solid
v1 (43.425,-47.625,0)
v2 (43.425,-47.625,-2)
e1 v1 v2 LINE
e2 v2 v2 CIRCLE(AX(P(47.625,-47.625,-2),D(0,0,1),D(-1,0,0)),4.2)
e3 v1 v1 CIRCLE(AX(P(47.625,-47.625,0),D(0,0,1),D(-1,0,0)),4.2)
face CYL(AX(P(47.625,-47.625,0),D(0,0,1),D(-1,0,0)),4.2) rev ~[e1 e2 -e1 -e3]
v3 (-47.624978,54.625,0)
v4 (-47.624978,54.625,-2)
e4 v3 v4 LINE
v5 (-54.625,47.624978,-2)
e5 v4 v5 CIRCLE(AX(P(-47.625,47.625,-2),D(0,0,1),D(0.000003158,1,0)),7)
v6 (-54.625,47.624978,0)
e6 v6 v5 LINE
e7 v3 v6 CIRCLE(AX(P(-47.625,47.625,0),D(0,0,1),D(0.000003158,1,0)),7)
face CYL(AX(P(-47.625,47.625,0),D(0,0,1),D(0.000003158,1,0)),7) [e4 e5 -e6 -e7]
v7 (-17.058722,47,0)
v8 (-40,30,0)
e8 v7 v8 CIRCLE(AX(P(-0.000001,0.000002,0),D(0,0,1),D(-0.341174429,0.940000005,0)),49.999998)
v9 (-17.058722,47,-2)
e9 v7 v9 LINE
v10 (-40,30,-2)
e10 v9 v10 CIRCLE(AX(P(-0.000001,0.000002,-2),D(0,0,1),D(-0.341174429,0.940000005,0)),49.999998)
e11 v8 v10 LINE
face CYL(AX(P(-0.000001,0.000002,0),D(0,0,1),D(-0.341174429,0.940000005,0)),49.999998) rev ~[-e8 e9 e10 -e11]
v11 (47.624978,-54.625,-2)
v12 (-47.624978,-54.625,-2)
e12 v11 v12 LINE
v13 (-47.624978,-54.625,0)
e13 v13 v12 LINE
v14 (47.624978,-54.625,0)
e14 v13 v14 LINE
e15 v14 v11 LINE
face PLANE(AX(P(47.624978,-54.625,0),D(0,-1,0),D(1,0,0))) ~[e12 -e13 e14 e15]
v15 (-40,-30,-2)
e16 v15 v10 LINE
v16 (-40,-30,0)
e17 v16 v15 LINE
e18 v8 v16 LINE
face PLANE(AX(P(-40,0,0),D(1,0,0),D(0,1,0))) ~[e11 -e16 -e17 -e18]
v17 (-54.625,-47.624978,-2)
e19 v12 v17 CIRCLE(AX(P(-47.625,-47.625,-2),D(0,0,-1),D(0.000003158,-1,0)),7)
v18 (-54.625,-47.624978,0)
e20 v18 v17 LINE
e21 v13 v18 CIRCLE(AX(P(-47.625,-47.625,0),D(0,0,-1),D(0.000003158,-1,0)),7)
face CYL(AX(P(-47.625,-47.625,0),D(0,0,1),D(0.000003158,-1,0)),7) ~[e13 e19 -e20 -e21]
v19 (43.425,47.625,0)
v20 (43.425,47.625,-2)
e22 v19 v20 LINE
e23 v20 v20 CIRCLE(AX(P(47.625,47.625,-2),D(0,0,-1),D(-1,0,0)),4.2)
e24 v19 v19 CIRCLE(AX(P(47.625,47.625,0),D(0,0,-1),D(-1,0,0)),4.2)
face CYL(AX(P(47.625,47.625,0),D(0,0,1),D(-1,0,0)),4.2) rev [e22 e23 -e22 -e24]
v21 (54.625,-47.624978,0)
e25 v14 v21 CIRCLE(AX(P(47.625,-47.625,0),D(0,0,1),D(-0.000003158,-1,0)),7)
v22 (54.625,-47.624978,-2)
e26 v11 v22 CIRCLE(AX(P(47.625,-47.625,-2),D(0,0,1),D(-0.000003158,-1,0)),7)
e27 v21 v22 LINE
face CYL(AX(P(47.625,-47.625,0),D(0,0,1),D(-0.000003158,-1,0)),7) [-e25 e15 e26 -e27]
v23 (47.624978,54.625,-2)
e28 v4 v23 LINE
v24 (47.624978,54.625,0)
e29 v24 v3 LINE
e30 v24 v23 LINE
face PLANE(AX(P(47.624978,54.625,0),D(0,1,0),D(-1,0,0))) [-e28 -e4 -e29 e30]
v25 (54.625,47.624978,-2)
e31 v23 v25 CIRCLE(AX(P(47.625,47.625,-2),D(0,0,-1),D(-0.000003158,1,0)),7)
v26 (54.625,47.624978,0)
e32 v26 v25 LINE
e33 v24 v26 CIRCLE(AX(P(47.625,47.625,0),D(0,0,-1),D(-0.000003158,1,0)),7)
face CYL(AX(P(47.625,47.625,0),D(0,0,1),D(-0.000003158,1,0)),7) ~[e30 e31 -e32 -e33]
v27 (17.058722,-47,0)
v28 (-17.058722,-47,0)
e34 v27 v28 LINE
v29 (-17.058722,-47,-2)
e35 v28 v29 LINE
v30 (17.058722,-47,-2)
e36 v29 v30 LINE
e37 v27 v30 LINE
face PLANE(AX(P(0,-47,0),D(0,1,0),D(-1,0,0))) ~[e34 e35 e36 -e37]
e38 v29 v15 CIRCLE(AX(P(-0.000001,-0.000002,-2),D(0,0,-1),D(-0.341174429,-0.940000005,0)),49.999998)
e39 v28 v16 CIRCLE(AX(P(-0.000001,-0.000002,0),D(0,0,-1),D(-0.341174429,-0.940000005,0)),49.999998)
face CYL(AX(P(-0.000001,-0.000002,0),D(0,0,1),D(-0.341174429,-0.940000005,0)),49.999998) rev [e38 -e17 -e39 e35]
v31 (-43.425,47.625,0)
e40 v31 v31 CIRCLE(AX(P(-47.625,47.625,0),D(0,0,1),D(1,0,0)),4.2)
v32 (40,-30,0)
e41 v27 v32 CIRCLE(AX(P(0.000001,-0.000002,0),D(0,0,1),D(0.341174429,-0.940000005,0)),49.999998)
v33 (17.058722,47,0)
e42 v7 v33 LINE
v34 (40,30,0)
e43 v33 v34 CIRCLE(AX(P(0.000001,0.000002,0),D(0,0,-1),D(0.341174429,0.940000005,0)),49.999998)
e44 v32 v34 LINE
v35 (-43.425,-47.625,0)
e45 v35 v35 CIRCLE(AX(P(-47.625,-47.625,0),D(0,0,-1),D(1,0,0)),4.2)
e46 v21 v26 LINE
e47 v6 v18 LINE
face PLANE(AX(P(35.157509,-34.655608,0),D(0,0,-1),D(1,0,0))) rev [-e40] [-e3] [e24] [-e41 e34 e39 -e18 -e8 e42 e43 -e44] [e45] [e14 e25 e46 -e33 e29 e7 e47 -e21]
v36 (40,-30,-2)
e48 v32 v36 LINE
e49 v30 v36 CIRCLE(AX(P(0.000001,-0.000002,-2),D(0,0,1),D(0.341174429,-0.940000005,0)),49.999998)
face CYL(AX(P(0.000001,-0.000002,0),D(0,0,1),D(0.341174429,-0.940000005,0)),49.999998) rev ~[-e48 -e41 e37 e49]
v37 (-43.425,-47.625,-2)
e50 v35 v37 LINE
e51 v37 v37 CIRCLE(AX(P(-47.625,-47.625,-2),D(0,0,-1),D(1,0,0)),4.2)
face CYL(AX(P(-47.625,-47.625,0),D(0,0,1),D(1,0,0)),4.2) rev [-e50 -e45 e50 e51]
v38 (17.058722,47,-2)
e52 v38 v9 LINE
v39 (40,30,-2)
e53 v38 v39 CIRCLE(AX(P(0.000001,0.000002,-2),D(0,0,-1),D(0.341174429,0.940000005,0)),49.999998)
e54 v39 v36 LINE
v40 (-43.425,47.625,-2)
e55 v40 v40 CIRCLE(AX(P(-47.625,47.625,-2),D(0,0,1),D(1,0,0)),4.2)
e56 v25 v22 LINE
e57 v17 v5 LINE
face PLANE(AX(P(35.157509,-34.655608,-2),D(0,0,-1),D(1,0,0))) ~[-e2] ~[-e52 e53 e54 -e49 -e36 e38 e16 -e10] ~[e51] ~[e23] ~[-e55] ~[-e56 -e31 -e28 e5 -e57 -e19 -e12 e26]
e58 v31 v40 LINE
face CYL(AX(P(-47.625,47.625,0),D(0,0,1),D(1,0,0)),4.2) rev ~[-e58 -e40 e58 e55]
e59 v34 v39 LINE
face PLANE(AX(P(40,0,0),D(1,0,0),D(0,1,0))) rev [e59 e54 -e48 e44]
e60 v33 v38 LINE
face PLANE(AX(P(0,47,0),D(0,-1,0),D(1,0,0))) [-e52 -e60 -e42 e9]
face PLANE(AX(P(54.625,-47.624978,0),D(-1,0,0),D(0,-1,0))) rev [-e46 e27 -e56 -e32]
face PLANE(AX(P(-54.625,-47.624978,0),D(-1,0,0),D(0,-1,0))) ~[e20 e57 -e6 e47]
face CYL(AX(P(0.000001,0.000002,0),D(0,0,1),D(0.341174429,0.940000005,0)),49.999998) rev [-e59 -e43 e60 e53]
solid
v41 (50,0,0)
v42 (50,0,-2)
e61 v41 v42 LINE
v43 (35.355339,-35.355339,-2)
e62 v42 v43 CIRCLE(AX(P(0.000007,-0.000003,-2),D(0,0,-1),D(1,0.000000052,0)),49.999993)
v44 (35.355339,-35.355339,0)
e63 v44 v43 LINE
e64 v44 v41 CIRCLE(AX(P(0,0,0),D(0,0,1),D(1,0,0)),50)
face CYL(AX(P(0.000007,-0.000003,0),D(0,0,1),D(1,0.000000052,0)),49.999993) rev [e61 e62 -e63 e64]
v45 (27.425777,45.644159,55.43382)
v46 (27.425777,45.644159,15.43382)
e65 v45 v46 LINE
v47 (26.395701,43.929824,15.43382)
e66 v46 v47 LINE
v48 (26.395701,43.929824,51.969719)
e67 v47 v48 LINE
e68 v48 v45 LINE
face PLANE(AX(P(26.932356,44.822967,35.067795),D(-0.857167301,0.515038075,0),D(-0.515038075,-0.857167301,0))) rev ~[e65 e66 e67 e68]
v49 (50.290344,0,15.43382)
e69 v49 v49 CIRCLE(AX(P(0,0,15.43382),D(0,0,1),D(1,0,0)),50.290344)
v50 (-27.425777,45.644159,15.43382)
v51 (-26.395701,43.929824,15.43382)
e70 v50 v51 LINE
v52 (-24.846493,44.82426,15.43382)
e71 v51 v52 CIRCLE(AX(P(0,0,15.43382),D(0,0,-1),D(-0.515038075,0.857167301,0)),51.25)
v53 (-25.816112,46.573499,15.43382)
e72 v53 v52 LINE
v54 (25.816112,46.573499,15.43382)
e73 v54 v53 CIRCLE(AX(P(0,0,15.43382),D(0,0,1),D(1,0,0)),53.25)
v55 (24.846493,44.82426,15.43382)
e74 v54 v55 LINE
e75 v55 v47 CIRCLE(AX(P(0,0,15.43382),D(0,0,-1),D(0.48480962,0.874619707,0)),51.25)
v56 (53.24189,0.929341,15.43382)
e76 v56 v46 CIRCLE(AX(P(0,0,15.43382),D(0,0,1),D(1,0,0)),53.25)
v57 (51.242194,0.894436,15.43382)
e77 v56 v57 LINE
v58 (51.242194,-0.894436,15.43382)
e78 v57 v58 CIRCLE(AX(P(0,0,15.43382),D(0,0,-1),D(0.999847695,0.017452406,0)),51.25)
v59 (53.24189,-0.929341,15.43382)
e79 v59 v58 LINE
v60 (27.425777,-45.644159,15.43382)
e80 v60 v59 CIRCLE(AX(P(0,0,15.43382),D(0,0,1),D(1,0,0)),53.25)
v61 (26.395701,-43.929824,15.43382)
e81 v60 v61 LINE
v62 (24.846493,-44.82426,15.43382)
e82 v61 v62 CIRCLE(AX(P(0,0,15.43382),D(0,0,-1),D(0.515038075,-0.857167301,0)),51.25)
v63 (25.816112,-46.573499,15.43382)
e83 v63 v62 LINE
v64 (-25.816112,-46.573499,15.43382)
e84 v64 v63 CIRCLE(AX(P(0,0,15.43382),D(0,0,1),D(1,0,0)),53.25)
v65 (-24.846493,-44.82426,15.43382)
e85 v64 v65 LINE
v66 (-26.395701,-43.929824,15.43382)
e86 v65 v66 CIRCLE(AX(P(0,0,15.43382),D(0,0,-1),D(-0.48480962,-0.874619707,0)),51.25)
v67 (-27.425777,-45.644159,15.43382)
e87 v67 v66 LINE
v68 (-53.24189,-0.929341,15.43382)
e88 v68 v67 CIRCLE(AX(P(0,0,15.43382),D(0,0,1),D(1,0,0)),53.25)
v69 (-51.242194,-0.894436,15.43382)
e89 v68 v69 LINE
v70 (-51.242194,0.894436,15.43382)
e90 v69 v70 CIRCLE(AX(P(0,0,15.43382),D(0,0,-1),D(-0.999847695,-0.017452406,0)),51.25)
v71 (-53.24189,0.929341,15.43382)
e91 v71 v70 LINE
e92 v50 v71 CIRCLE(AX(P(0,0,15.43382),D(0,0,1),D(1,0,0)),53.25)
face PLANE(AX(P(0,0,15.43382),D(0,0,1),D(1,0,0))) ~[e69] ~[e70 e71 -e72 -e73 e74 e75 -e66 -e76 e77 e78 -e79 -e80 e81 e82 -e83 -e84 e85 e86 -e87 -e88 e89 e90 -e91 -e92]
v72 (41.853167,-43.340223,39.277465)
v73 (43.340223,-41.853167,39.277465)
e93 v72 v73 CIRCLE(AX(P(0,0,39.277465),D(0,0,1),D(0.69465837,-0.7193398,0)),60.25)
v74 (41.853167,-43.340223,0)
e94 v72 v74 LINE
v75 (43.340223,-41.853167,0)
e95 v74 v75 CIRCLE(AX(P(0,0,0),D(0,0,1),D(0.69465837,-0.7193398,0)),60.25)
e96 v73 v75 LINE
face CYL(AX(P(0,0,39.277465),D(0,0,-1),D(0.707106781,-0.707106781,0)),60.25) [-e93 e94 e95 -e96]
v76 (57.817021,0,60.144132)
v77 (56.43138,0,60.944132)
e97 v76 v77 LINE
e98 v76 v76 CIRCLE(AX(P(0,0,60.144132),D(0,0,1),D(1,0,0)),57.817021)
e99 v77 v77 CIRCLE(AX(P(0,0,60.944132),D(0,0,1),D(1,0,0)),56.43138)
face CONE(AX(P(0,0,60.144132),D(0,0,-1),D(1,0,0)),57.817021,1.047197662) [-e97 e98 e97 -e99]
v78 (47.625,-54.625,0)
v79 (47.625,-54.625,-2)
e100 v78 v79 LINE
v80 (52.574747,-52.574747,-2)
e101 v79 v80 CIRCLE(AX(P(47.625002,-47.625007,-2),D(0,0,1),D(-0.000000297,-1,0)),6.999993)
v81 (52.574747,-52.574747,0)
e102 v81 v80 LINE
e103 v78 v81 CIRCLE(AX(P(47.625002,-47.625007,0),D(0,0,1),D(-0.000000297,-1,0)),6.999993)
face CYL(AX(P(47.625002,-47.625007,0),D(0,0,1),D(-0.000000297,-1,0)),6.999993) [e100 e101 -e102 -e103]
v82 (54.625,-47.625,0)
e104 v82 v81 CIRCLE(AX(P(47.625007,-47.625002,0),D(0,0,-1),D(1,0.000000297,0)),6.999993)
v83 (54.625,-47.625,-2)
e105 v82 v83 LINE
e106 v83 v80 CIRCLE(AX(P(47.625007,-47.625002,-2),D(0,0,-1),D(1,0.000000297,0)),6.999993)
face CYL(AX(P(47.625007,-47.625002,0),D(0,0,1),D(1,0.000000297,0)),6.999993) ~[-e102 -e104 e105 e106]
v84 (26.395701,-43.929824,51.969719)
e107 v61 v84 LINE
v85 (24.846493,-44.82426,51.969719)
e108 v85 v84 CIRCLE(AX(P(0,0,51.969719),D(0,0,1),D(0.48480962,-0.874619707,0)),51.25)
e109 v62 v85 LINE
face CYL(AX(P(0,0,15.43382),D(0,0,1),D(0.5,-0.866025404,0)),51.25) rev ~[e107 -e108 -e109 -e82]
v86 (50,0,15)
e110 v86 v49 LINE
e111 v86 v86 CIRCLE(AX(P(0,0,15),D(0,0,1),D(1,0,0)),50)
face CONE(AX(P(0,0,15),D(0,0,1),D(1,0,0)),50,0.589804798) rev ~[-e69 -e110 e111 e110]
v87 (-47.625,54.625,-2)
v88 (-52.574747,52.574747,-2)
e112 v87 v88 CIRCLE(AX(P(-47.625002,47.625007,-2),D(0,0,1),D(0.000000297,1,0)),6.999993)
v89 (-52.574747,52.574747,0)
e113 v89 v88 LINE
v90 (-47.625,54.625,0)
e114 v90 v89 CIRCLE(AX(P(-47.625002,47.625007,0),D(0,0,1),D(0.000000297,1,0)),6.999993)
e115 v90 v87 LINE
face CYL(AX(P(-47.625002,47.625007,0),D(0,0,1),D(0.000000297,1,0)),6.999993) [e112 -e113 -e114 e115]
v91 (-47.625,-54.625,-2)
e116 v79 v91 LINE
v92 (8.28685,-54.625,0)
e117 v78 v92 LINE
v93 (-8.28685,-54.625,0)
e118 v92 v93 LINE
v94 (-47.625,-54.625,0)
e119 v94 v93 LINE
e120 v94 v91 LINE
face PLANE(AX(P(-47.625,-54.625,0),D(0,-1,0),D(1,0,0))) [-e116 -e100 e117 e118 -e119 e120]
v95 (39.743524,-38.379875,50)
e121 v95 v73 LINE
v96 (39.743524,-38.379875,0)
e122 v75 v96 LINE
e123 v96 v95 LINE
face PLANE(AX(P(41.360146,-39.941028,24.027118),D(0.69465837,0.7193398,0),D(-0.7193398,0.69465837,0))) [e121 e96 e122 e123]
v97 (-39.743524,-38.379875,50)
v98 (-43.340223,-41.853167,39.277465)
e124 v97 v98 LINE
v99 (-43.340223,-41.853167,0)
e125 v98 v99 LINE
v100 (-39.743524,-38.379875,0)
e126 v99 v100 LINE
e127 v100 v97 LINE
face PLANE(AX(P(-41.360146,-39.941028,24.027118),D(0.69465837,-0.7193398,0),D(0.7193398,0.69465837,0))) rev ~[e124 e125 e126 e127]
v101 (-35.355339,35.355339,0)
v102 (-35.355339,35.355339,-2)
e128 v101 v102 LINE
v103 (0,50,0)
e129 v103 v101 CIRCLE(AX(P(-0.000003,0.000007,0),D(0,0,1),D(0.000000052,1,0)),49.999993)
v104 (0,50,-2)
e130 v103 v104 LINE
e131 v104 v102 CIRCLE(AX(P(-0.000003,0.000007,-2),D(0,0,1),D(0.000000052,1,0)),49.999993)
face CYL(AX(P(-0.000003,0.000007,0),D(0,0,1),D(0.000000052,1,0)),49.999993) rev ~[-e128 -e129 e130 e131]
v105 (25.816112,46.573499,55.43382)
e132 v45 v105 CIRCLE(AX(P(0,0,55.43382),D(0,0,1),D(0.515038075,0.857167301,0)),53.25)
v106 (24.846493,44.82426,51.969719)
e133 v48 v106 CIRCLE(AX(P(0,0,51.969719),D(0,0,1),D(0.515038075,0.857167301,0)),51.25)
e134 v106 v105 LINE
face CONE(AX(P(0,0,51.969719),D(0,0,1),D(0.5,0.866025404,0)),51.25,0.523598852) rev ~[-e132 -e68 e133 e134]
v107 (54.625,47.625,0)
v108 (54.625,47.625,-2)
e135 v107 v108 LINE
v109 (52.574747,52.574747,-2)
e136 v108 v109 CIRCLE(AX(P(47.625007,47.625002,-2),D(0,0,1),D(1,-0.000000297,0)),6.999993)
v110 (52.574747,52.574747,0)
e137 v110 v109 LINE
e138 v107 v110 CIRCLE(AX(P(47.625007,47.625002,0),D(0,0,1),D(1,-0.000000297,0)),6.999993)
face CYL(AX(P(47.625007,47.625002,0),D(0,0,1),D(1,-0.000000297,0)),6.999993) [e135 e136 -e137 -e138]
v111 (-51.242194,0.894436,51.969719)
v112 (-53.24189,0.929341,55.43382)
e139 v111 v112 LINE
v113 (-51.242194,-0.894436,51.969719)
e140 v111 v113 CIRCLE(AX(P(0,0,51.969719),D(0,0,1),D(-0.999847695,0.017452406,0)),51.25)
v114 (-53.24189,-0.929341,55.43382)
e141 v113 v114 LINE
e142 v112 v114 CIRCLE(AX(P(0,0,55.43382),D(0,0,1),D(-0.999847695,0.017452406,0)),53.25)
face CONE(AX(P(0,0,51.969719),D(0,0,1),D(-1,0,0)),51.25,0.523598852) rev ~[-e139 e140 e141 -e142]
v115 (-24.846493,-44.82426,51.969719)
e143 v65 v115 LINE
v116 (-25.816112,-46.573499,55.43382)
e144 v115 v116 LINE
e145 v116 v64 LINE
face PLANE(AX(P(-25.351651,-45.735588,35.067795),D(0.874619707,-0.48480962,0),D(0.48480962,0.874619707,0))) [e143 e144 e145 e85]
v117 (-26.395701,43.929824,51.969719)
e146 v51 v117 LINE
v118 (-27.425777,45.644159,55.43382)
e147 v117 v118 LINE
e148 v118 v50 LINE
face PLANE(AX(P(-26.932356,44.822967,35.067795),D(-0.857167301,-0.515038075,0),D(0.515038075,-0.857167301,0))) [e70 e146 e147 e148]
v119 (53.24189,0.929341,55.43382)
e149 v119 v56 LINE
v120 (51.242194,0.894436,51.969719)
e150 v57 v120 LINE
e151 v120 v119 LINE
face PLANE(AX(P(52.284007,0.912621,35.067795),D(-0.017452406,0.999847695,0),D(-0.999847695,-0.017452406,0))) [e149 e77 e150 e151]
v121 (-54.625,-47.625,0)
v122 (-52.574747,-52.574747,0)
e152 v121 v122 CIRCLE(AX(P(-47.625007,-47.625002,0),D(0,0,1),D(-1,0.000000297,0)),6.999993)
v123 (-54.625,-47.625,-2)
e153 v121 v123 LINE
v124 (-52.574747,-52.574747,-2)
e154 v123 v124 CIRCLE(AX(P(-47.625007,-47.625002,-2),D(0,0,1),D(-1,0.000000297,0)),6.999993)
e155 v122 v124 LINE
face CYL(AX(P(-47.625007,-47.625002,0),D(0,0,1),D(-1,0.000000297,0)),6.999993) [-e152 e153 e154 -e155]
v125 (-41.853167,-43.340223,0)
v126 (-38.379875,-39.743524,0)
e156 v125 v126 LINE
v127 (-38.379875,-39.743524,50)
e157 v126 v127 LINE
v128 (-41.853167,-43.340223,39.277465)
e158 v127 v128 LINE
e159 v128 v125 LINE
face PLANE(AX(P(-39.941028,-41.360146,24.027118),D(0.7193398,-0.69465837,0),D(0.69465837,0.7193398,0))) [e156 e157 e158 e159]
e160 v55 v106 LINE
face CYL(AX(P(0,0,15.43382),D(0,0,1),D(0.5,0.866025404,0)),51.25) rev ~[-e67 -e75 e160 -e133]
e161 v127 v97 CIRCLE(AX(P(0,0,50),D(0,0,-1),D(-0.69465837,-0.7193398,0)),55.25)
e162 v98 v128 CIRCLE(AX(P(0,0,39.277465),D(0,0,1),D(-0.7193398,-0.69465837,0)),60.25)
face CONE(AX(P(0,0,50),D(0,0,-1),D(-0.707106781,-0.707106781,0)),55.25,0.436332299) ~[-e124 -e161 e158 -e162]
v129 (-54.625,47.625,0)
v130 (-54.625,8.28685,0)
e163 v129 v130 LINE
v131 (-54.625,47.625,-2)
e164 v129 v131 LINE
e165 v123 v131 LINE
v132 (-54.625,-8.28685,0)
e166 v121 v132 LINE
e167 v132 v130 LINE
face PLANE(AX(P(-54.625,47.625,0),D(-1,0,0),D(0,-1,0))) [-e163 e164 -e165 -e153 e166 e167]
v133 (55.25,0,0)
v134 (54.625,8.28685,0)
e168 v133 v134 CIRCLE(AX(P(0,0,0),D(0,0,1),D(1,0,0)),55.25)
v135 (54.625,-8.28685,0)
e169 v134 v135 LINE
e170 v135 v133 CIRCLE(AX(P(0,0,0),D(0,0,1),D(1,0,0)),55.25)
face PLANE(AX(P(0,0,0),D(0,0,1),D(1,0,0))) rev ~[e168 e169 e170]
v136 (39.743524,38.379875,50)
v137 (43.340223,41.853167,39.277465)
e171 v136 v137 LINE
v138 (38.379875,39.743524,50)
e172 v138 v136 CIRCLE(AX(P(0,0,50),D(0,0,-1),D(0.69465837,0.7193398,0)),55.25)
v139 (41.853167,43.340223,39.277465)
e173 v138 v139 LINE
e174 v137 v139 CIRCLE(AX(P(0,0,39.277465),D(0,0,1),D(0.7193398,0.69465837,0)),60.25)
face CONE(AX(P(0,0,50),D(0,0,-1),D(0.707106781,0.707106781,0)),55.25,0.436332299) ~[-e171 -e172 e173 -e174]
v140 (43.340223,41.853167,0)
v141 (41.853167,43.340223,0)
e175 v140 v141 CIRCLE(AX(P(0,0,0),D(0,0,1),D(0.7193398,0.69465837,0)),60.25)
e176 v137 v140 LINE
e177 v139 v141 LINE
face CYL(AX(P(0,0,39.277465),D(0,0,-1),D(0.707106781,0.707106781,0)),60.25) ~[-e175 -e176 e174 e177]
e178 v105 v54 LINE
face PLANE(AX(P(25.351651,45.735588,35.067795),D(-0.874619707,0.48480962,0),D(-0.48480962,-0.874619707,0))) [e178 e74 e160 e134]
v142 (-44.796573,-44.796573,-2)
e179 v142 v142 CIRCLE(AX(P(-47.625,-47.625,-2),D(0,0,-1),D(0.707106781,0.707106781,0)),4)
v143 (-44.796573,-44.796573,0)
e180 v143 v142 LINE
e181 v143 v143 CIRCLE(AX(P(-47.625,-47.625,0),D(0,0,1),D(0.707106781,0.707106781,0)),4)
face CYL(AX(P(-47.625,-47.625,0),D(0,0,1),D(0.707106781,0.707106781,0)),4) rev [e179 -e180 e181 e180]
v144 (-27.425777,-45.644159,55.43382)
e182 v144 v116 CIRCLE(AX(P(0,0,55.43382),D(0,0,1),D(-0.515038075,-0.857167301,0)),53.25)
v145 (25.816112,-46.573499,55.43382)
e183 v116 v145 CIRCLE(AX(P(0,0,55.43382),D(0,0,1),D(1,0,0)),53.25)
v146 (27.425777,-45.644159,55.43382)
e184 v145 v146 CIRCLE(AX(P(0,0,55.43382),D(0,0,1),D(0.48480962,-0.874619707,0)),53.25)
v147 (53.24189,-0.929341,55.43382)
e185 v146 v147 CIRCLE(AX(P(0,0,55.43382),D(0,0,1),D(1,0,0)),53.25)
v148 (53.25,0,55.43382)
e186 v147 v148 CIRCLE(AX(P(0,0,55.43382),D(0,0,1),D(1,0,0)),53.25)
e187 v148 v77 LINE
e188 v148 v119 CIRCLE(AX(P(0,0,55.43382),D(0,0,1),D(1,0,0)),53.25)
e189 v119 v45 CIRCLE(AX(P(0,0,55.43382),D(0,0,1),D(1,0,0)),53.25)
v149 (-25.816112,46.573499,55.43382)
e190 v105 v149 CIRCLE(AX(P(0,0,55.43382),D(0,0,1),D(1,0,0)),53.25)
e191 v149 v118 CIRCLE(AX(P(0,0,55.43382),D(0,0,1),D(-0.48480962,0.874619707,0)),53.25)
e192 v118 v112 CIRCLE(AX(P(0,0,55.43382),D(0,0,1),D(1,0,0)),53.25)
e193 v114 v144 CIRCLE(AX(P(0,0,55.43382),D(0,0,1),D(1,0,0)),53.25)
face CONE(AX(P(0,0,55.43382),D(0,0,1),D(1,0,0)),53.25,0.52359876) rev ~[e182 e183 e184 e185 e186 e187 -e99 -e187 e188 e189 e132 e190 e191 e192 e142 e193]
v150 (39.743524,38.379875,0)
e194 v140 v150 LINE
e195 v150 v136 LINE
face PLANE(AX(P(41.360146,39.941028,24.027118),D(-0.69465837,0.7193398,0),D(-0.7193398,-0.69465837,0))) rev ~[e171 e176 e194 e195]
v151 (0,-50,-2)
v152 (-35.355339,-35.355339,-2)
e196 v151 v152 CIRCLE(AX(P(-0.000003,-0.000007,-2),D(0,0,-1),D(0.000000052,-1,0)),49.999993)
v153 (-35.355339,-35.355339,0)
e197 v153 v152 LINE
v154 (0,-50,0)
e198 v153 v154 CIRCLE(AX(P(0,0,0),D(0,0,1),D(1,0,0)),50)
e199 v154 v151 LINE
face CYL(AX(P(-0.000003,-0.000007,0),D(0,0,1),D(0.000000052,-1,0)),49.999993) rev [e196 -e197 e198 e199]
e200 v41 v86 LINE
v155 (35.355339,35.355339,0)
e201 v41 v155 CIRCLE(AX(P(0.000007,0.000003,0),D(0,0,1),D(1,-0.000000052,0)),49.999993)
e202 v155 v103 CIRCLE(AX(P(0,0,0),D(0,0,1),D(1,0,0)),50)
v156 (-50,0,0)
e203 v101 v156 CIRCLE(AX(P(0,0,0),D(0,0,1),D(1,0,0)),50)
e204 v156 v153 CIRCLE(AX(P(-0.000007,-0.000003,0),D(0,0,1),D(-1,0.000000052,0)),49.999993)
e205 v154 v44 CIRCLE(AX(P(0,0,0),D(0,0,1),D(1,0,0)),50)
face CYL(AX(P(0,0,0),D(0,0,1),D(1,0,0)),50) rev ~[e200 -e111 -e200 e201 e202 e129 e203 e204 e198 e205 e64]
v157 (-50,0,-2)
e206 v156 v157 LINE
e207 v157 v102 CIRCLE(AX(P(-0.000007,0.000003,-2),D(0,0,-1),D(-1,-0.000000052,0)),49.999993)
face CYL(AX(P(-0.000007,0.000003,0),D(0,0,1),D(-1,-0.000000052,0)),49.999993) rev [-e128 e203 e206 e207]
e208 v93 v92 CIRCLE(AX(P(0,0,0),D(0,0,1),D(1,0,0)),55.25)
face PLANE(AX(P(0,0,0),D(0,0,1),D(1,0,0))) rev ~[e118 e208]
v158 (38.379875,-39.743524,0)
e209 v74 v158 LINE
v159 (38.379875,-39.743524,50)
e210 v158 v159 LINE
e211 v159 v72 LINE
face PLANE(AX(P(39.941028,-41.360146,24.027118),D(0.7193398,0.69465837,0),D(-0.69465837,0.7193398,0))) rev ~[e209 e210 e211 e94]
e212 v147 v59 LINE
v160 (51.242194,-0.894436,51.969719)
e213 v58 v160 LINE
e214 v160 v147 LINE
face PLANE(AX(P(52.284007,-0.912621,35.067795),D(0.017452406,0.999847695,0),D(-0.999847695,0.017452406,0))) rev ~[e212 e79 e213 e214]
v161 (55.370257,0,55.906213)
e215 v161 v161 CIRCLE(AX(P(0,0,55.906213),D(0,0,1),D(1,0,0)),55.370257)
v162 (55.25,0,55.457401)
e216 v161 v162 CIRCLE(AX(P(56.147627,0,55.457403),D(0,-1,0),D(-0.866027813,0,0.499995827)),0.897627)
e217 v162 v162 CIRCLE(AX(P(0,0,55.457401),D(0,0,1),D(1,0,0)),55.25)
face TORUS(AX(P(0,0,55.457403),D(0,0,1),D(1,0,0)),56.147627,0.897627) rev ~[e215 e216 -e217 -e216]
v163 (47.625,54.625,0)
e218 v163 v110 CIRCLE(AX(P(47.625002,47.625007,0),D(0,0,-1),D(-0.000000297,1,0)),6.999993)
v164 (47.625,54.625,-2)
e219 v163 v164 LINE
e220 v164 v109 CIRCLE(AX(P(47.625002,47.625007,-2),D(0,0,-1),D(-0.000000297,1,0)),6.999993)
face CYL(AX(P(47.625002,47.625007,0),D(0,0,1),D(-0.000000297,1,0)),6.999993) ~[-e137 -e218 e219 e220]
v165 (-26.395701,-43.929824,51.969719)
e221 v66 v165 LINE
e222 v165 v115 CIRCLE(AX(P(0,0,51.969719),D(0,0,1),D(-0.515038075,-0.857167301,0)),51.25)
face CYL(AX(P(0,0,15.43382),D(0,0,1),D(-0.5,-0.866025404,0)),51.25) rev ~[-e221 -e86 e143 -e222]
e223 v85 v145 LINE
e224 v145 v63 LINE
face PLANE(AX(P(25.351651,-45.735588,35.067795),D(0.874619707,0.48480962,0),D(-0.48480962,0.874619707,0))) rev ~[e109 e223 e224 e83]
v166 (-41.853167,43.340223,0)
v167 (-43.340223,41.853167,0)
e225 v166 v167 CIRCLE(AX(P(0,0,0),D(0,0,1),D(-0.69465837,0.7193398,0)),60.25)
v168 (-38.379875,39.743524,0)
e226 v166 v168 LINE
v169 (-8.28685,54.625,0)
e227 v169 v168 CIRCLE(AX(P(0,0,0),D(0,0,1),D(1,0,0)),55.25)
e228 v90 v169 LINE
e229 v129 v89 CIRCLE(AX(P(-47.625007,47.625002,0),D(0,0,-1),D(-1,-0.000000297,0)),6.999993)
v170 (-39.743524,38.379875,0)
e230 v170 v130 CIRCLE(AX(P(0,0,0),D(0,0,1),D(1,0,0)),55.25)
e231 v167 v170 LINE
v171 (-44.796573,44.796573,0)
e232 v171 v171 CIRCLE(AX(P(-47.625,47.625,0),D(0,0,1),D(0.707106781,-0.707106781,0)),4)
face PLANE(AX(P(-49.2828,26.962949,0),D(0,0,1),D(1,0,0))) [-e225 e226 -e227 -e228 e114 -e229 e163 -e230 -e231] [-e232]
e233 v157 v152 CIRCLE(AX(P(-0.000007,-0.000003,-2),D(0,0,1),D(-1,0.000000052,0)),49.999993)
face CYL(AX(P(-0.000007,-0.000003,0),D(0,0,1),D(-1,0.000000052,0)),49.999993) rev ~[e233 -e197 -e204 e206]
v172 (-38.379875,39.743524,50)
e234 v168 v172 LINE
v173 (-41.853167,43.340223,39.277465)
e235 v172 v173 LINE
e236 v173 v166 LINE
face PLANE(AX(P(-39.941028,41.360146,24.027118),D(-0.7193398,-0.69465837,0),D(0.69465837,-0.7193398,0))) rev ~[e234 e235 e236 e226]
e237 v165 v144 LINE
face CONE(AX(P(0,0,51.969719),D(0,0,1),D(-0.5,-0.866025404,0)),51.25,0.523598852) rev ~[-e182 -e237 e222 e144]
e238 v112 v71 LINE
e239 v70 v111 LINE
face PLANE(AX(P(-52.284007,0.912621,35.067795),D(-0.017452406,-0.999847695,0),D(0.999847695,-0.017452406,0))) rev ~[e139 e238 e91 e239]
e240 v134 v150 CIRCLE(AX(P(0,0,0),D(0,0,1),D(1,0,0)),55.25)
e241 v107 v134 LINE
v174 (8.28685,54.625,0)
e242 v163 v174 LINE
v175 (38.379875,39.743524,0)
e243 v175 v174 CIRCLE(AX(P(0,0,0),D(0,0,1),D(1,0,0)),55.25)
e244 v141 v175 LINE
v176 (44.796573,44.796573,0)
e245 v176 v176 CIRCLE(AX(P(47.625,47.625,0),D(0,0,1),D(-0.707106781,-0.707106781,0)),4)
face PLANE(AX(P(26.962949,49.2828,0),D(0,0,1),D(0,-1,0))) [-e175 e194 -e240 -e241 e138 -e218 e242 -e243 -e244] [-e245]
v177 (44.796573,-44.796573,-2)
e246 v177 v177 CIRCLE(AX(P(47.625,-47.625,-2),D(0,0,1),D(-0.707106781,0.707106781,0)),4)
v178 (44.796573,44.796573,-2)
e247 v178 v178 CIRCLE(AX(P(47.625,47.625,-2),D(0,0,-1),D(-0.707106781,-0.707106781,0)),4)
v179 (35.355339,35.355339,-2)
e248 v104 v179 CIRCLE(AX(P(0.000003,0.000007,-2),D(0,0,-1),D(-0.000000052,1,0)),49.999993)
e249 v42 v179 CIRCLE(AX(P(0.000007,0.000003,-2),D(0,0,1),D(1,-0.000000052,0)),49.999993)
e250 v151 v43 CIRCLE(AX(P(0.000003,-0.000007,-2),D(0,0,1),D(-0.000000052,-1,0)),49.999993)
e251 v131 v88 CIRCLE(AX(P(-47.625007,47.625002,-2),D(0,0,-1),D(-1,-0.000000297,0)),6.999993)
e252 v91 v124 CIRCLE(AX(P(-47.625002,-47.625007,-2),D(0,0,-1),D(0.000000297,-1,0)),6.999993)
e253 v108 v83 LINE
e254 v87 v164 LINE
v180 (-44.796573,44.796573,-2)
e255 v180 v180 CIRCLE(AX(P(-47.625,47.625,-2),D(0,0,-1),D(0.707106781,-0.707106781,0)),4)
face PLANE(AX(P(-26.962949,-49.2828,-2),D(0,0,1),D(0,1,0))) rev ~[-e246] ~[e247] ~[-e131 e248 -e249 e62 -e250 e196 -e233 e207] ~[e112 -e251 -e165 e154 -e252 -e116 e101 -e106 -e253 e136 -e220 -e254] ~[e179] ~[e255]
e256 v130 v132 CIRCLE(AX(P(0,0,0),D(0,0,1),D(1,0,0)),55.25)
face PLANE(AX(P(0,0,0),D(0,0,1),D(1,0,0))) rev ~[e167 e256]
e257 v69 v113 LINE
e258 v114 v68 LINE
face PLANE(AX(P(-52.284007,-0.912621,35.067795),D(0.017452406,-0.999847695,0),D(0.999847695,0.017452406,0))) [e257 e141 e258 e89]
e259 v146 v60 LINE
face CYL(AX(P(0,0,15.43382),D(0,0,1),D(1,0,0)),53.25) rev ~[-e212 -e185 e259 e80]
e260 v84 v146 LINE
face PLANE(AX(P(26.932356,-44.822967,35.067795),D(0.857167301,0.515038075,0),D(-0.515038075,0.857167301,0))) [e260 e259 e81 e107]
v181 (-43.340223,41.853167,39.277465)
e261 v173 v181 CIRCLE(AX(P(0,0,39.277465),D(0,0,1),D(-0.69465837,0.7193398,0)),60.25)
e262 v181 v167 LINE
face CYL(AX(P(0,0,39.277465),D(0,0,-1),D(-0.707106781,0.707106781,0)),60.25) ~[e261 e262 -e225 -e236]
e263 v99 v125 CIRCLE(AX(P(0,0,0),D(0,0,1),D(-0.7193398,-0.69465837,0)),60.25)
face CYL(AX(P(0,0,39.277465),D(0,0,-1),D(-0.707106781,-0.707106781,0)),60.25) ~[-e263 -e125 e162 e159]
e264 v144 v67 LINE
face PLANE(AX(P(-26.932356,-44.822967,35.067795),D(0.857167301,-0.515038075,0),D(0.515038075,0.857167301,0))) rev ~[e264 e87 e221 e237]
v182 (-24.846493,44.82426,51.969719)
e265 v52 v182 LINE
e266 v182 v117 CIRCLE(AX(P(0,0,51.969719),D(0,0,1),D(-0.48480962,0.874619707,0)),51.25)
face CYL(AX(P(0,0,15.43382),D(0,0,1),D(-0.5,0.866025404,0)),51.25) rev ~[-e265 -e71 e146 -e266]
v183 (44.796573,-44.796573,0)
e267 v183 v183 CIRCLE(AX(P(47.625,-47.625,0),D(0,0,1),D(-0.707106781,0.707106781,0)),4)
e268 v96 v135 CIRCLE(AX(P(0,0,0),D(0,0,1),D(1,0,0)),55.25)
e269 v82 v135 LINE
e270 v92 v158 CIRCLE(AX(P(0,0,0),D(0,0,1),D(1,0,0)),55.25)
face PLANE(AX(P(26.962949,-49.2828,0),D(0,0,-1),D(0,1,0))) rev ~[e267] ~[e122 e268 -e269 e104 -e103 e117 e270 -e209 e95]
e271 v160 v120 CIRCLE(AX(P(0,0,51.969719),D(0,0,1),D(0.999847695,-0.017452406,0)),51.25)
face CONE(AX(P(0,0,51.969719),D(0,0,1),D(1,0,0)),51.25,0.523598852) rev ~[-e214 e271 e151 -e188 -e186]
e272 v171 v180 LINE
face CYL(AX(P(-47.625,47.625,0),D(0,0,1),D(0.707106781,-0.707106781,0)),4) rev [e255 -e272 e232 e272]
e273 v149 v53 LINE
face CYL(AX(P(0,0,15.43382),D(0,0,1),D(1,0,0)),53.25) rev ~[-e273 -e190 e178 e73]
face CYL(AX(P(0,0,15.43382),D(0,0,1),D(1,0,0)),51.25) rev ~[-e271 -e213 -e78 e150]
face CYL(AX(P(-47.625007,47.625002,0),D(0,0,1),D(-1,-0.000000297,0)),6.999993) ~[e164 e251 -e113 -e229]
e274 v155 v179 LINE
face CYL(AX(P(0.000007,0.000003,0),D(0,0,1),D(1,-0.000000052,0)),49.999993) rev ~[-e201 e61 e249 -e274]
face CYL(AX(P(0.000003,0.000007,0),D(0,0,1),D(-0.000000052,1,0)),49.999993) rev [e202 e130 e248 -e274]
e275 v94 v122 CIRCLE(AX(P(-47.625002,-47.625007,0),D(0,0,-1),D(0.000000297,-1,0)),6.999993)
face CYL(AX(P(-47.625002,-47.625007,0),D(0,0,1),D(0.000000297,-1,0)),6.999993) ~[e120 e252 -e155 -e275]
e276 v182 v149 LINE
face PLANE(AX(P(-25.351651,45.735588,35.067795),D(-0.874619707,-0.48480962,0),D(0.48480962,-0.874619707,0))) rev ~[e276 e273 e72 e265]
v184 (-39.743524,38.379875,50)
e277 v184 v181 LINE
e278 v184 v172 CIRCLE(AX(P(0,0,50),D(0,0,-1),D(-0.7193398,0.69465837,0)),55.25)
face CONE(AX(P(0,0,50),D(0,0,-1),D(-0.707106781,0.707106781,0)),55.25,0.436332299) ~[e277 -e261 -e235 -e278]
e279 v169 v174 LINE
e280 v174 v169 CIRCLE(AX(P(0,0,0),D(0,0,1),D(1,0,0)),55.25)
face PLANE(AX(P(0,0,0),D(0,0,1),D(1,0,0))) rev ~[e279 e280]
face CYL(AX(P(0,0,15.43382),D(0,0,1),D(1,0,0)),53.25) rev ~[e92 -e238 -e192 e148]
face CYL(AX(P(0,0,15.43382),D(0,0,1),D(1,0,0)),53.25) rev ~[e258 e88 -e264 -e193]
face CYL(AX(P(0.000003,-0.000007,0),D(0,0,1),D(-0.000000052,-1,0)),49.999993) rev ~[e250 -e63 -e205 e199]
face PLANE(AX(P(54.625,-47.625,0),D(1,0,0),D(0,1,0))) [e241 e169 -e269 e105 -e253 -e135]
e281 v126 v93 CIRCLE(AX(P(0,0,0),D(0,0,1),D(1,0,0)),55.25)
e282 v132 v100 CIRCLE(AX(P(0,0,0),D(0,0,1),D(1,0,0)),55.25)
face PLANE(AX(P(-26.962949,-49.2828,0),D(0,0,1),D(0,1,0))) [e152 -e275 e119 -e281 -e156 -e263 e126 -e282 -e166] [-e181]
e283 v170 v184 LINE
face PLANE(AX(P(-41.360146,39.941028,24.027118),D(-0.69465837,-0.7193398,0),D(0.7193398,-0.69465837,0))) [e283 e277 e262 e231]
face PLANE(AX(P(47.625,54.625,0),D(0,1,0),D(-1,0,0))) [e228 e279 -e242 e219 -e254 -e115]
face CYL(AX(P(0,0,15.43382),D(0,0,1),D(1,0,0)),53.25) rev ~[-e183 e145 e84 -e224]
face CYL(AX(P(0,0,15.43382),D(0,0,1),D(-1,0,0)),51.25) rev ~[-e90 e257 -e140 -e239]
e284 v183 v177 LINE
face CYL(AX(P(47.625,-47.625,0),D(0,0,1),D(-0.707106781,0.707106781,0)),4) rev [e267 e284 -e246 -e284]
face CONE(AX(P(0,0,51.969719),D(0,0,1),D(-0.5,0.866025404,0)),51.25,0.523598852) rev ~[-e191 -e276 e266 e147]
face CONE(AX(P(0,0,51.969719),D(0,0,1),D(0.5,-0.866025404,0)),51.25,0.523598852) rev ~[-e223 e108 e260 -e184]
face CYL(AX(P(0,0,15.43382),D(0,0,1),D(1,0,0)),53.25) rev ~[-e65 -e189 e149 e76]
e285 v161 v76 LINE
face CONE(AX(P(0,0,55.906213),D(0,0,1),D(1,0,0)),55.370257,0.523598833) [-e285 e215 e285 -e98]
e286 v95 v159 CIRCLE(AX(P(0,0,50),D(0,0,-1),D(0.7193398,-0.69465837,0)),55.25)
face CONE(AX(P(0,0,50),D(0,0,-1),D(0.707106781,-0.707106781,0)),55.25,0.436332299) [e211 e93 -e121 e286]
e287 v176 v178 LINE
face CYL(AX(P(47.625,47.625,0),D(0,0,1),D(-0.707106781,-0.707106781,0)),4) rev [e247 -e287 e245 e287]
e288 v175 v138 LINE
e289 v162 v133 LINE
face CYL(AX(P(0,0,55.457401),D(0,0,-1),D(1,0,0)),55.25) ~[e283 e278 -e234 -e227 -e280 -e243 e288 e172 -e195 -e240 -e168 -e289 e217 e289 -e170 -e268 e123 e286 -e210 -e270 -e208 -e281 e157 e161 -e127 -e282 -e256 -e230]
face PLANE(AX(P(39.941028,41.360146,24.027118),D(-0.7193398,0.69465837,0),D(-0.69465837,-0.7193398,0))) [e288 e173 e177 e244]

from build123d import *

# Parameters (mm, degrees)
PAD_DEPTH                         = 2
REVOLUTION001_ANGLE               = -1
PAD_MIRRORED_2_DEPTH              = 2
REVOLUTION001_MIRRORED_2_ANGLE    = 1
POLARPATTERN_COUNT                = 4
REVOLUTION002_ANGLE               = -1
REVOLUTION002_MIRRORED001_2_ANGLE = 1
POLARPATTERN001_COUNT             = 6
SKETCH006_R                       = 4.2
PAD001_DEPTH                      = 2
SKETCH006_MIRRORED002_2_R         = 4.2
PAD001_MIRRORED002_2_DEPTH        = 2


with BuildPart() as body:
    # Sketch → Pad (new body)
    with BuildSketch(Plane.XY):
        with BuildLine():
            ThreePointArc((44.796573, 44.796573), (50.453427, 44.796573), (50.453427, 50.453427))
            Line((50.453427, 50.453427), (52.574747, 52.574747))
            ThreePointArc((54.625, 47.625), (54.092157, 50.303784), (52.574747, 52.574747))
            Line((54.625, 47.625), (54.625, 0))
            Line((50, 0), (54.625, 0))
            ThreePointArc((50, 0), (46.193977, 19.134172), (35.355339, 35.355339))
            Line((35.355339, 35.355339), (44.796573, 44.796573))
        make_face()
    pad = extrude(amount=-PAD_DEPTH)

    # Sketch001 → Revolution (revolve)
    with BuildSketch(Plane.XZ):
        with BuildLine():
            Line((50, 0), (50, 15))
            Line((50, 15), (50.290344, 15.43382))
            Line((50.290344, 15.43382), (53.25, 15.43382))
            Line((53.25, 15.43382), (53.25, 55.43382))
            Line((53.25, 55.43382), (56.43138, 60.944132))
            Line((57.817021, 60.144132), (56.43138, 60.944132))
            Line((55.370257, 55.906213), (57.817021, 60.144132))
            ThreePointArc((55.370257, 55.906213), (55.280585, 55.689723), (55.25, 55.457401))
            Line((55.25, 55.457401), (55.25, 0))
            Line((55.25, 0), (50, 0))
        make_face()
    revolve(axis=Axis((0, 0, 0), (0, 0, 1)))

    # Sketch002 (on Face3 of Revolution) → Revolution001 (revolve)
    with BuildSketch(Plane(origin=(0, 0, 0), x_dir=(-0.707107, -0.707107, 0), z_dir=(-0.707107, 0.707107, 0))):
        Polygon((-55.25, 0), (-55.25, 50), (-60.25, 39.277465), (-60.25, 0), align=None)
    revolution001 = revolve(axis=Axis((0, 0, 0), (0, 0, 1)), revolution_arc=REVOLUTION001_ANGLE)

    # Sketch Mirrored 2 → Pad Mirrored 2 (add)
    with BuildSketch(Plane(origin=(0, 0, 0), x_dir=(1, 0, 0), z_dir=(0, 0, -1))):
        with BuildLine():
            ThreePointArc((44.796573, 44.796573), (50.453427, 44.796573), (50.453427, 50.453427))
            Line((50.453427, 50.453427), (52.574747, 52.574747))
            ThreePointArc((54.625, 47.625), (54.092157, 50.303784), (52.574747, 52.574747))
            Line((54.625, 47.625), (54.625, 0))
            Line((50, 0), (54.625, 0))
            ThreePointArc((50, 0), (46.193977, 19.134172), (35.355339, 35.355339))
            Line((35.355339, 35.355339), (44.796573, 44.796573))
        make_face()
    pad_mirrored_2 = extrude(amount=PAD_MIRRORED_2_DEPTH)

    # Sketch002 Mirrored 2 → Revolution001 Mirrored 2 (revolve)
    with BuildSketch(Plane(origin=(0, 0, 0), x_dir=(-0.707107, 0.707107, 0), z_dir=(0.707107, 0.707107, 0))):
        Polygon((-55.25, 0), (-55.25, 50), (-60.25, 39.277465), (-60.25, 0), align=None)
    revolution001_mirrored_2 = revolve(axis=Axis((0, 0, 0), (0, 0, 1)), revolution_arc=REVOLUTION001_MIRRORED_2_ANGLE)

    # PolarPattern: Pad, Revolution001, Pad Mirrored 2, Revolution001 Mirrored 2 ×4 about axis
    polarpattern_axis = Axis((0, 0, 0), (0, 0, 1))
    for i in range(1, POLARPATTERN_COUNT):
        add(pad.rotate(polarpattern_axis, i * 360 / POLARPATTERN_COUNT))
        add(revolution001.rotate(polarpattern_axis, i * 360 / POLARPATTERN_COUNT))
        add(pad_mirrored_2.rotate(polarpattern_axis, i * 360 / POLARPATTERN_COUNT))
        add(revolution001_mirrored_2.rotate(polarpattern_axis, i * 360 / POLARPATTERN_COUNT))

    # Sketch005 → Revolution002 (revolve)
    with BuildSketch(Plane.XZ):
        Polygon((51.25, 15.43382), (51.25, 51.969719), (53.25, 55.43382), (53.25, 15.43382), align=None)
    revolution002 = revolve(axis=Axis((0, 0, 0), (0, 0, 1)), revolution_arc=REVOLUTION002_ANGLE)

    # Sketch005 Mirrored001 2 → Revolution002 Mirrored001 2 (revolve)
    with BuildSketch(Plane.XZ):
        Polygon((51.25, 15.43382), (51.25, 51.969719), (53.25, 55.43382), (53.25, 15.43382), align=None)
    revolution002_mirrored001_2 = revolve(axis=Axis((0, 0, 0), (0, 0, 1)), revolution_arc=REVOLUTION002_MIRRORED001_2_ANGLE)

    # PolarPattern001: Revolution002, Revolution002 Mirrored001 2 ×6 about axis
    polarpattern001_axis = Axis((0, 0, 0), (0, 0, 1))
    for i in range(1, POLARPATTERN001_COUNT):
        add(revolution002.rotate(polarpattern001_axis, i * 360 / POLARPATTERN001_COUNT))
        add(revolution002_mirrored001_2.rotate(polarpattern001_axis, i * 360 / POLARPATTERN001_COUNT))


with BuildPart() as body001:
    # Sketch006 → Pad001 (new body)
    with BuildSketch(Plane.XY):
        with BuildLine():
            Line((-40, 0), (-40, 30))
            ThreePointArc((-17.058722, 47), (-29.768682, 40.172448), (-40, 30))
            Line((0, 47), (-17.058722, 47))
            Line((0, 50), (0, 47))
            Line((0, 50), (0, 54.625))
            Line((-47.624978, 54.625), (0, 54.625))
            ThreePointArc((-47.624978, 54.625), (-52.574748, 52.574747), (-54.625, 47.624978))
            Line((-54.625, 47.624978), (-54.625, 0))
            Line((-54.625, 0), (-50, 0))
            Line((-40, 0), (-50, 0))
        make_face()
        with Locations((-47.625, 47.625)):
            Circle(SKETCH006_R, mode=Mode.SUBTRACT)
    pad001 = extrude(amount=-PAD001_DEPTH)

    # Sketch006 Mirrored002 2 → Pad001 Mirrored002 2 (add)
    with BuildSketch(Plane(origin=(0, 0, 0), x_dir=(-1, 0, 0), z_dir=(0, 0, -1))):
        with BuildLine():
            Line((-40, 0), (-40, 30))
            ThreePointArc((-17.058722, 47), (-29.768682, 40.172448), (-40, 30))
            Line((0, 47), (-17.058722, 47))
            Line((0, 50), (0, 47))
            Line((0, 50), (0, 54.625))
            Line((-47.624978, 54.625), (0, 54.625))
            ThreePointArc((-47.624978, 54.625), (-52.574748, 52.574747), (-54.625, 47.624978))
            Line((-54.625, 47.624978), (-54.625, 0))
            Line((-54.625, 0), (-50, 0))
            Line((-40, 0), (-50, 0))
        make_face()
        with Locations((-47.625, 47.625)):
            Circle(SKETCH006_MIRRORED002_2_R, mode=Mode.SUBTRACT)
    pad001_mirrored002_2 = extrude(amount=PAD001_MIRRORED002_2_DEPTH)

    # Mirrored003: Pad001, Pad001 Mirrored002 2 across Sketch006 H_Axis
    add(pad001.mirror(Plane.ZX))
    add(pad001_mirrored002_2.mirror(Plane.ZX))


solid = Compound([body.part, body001.part])
